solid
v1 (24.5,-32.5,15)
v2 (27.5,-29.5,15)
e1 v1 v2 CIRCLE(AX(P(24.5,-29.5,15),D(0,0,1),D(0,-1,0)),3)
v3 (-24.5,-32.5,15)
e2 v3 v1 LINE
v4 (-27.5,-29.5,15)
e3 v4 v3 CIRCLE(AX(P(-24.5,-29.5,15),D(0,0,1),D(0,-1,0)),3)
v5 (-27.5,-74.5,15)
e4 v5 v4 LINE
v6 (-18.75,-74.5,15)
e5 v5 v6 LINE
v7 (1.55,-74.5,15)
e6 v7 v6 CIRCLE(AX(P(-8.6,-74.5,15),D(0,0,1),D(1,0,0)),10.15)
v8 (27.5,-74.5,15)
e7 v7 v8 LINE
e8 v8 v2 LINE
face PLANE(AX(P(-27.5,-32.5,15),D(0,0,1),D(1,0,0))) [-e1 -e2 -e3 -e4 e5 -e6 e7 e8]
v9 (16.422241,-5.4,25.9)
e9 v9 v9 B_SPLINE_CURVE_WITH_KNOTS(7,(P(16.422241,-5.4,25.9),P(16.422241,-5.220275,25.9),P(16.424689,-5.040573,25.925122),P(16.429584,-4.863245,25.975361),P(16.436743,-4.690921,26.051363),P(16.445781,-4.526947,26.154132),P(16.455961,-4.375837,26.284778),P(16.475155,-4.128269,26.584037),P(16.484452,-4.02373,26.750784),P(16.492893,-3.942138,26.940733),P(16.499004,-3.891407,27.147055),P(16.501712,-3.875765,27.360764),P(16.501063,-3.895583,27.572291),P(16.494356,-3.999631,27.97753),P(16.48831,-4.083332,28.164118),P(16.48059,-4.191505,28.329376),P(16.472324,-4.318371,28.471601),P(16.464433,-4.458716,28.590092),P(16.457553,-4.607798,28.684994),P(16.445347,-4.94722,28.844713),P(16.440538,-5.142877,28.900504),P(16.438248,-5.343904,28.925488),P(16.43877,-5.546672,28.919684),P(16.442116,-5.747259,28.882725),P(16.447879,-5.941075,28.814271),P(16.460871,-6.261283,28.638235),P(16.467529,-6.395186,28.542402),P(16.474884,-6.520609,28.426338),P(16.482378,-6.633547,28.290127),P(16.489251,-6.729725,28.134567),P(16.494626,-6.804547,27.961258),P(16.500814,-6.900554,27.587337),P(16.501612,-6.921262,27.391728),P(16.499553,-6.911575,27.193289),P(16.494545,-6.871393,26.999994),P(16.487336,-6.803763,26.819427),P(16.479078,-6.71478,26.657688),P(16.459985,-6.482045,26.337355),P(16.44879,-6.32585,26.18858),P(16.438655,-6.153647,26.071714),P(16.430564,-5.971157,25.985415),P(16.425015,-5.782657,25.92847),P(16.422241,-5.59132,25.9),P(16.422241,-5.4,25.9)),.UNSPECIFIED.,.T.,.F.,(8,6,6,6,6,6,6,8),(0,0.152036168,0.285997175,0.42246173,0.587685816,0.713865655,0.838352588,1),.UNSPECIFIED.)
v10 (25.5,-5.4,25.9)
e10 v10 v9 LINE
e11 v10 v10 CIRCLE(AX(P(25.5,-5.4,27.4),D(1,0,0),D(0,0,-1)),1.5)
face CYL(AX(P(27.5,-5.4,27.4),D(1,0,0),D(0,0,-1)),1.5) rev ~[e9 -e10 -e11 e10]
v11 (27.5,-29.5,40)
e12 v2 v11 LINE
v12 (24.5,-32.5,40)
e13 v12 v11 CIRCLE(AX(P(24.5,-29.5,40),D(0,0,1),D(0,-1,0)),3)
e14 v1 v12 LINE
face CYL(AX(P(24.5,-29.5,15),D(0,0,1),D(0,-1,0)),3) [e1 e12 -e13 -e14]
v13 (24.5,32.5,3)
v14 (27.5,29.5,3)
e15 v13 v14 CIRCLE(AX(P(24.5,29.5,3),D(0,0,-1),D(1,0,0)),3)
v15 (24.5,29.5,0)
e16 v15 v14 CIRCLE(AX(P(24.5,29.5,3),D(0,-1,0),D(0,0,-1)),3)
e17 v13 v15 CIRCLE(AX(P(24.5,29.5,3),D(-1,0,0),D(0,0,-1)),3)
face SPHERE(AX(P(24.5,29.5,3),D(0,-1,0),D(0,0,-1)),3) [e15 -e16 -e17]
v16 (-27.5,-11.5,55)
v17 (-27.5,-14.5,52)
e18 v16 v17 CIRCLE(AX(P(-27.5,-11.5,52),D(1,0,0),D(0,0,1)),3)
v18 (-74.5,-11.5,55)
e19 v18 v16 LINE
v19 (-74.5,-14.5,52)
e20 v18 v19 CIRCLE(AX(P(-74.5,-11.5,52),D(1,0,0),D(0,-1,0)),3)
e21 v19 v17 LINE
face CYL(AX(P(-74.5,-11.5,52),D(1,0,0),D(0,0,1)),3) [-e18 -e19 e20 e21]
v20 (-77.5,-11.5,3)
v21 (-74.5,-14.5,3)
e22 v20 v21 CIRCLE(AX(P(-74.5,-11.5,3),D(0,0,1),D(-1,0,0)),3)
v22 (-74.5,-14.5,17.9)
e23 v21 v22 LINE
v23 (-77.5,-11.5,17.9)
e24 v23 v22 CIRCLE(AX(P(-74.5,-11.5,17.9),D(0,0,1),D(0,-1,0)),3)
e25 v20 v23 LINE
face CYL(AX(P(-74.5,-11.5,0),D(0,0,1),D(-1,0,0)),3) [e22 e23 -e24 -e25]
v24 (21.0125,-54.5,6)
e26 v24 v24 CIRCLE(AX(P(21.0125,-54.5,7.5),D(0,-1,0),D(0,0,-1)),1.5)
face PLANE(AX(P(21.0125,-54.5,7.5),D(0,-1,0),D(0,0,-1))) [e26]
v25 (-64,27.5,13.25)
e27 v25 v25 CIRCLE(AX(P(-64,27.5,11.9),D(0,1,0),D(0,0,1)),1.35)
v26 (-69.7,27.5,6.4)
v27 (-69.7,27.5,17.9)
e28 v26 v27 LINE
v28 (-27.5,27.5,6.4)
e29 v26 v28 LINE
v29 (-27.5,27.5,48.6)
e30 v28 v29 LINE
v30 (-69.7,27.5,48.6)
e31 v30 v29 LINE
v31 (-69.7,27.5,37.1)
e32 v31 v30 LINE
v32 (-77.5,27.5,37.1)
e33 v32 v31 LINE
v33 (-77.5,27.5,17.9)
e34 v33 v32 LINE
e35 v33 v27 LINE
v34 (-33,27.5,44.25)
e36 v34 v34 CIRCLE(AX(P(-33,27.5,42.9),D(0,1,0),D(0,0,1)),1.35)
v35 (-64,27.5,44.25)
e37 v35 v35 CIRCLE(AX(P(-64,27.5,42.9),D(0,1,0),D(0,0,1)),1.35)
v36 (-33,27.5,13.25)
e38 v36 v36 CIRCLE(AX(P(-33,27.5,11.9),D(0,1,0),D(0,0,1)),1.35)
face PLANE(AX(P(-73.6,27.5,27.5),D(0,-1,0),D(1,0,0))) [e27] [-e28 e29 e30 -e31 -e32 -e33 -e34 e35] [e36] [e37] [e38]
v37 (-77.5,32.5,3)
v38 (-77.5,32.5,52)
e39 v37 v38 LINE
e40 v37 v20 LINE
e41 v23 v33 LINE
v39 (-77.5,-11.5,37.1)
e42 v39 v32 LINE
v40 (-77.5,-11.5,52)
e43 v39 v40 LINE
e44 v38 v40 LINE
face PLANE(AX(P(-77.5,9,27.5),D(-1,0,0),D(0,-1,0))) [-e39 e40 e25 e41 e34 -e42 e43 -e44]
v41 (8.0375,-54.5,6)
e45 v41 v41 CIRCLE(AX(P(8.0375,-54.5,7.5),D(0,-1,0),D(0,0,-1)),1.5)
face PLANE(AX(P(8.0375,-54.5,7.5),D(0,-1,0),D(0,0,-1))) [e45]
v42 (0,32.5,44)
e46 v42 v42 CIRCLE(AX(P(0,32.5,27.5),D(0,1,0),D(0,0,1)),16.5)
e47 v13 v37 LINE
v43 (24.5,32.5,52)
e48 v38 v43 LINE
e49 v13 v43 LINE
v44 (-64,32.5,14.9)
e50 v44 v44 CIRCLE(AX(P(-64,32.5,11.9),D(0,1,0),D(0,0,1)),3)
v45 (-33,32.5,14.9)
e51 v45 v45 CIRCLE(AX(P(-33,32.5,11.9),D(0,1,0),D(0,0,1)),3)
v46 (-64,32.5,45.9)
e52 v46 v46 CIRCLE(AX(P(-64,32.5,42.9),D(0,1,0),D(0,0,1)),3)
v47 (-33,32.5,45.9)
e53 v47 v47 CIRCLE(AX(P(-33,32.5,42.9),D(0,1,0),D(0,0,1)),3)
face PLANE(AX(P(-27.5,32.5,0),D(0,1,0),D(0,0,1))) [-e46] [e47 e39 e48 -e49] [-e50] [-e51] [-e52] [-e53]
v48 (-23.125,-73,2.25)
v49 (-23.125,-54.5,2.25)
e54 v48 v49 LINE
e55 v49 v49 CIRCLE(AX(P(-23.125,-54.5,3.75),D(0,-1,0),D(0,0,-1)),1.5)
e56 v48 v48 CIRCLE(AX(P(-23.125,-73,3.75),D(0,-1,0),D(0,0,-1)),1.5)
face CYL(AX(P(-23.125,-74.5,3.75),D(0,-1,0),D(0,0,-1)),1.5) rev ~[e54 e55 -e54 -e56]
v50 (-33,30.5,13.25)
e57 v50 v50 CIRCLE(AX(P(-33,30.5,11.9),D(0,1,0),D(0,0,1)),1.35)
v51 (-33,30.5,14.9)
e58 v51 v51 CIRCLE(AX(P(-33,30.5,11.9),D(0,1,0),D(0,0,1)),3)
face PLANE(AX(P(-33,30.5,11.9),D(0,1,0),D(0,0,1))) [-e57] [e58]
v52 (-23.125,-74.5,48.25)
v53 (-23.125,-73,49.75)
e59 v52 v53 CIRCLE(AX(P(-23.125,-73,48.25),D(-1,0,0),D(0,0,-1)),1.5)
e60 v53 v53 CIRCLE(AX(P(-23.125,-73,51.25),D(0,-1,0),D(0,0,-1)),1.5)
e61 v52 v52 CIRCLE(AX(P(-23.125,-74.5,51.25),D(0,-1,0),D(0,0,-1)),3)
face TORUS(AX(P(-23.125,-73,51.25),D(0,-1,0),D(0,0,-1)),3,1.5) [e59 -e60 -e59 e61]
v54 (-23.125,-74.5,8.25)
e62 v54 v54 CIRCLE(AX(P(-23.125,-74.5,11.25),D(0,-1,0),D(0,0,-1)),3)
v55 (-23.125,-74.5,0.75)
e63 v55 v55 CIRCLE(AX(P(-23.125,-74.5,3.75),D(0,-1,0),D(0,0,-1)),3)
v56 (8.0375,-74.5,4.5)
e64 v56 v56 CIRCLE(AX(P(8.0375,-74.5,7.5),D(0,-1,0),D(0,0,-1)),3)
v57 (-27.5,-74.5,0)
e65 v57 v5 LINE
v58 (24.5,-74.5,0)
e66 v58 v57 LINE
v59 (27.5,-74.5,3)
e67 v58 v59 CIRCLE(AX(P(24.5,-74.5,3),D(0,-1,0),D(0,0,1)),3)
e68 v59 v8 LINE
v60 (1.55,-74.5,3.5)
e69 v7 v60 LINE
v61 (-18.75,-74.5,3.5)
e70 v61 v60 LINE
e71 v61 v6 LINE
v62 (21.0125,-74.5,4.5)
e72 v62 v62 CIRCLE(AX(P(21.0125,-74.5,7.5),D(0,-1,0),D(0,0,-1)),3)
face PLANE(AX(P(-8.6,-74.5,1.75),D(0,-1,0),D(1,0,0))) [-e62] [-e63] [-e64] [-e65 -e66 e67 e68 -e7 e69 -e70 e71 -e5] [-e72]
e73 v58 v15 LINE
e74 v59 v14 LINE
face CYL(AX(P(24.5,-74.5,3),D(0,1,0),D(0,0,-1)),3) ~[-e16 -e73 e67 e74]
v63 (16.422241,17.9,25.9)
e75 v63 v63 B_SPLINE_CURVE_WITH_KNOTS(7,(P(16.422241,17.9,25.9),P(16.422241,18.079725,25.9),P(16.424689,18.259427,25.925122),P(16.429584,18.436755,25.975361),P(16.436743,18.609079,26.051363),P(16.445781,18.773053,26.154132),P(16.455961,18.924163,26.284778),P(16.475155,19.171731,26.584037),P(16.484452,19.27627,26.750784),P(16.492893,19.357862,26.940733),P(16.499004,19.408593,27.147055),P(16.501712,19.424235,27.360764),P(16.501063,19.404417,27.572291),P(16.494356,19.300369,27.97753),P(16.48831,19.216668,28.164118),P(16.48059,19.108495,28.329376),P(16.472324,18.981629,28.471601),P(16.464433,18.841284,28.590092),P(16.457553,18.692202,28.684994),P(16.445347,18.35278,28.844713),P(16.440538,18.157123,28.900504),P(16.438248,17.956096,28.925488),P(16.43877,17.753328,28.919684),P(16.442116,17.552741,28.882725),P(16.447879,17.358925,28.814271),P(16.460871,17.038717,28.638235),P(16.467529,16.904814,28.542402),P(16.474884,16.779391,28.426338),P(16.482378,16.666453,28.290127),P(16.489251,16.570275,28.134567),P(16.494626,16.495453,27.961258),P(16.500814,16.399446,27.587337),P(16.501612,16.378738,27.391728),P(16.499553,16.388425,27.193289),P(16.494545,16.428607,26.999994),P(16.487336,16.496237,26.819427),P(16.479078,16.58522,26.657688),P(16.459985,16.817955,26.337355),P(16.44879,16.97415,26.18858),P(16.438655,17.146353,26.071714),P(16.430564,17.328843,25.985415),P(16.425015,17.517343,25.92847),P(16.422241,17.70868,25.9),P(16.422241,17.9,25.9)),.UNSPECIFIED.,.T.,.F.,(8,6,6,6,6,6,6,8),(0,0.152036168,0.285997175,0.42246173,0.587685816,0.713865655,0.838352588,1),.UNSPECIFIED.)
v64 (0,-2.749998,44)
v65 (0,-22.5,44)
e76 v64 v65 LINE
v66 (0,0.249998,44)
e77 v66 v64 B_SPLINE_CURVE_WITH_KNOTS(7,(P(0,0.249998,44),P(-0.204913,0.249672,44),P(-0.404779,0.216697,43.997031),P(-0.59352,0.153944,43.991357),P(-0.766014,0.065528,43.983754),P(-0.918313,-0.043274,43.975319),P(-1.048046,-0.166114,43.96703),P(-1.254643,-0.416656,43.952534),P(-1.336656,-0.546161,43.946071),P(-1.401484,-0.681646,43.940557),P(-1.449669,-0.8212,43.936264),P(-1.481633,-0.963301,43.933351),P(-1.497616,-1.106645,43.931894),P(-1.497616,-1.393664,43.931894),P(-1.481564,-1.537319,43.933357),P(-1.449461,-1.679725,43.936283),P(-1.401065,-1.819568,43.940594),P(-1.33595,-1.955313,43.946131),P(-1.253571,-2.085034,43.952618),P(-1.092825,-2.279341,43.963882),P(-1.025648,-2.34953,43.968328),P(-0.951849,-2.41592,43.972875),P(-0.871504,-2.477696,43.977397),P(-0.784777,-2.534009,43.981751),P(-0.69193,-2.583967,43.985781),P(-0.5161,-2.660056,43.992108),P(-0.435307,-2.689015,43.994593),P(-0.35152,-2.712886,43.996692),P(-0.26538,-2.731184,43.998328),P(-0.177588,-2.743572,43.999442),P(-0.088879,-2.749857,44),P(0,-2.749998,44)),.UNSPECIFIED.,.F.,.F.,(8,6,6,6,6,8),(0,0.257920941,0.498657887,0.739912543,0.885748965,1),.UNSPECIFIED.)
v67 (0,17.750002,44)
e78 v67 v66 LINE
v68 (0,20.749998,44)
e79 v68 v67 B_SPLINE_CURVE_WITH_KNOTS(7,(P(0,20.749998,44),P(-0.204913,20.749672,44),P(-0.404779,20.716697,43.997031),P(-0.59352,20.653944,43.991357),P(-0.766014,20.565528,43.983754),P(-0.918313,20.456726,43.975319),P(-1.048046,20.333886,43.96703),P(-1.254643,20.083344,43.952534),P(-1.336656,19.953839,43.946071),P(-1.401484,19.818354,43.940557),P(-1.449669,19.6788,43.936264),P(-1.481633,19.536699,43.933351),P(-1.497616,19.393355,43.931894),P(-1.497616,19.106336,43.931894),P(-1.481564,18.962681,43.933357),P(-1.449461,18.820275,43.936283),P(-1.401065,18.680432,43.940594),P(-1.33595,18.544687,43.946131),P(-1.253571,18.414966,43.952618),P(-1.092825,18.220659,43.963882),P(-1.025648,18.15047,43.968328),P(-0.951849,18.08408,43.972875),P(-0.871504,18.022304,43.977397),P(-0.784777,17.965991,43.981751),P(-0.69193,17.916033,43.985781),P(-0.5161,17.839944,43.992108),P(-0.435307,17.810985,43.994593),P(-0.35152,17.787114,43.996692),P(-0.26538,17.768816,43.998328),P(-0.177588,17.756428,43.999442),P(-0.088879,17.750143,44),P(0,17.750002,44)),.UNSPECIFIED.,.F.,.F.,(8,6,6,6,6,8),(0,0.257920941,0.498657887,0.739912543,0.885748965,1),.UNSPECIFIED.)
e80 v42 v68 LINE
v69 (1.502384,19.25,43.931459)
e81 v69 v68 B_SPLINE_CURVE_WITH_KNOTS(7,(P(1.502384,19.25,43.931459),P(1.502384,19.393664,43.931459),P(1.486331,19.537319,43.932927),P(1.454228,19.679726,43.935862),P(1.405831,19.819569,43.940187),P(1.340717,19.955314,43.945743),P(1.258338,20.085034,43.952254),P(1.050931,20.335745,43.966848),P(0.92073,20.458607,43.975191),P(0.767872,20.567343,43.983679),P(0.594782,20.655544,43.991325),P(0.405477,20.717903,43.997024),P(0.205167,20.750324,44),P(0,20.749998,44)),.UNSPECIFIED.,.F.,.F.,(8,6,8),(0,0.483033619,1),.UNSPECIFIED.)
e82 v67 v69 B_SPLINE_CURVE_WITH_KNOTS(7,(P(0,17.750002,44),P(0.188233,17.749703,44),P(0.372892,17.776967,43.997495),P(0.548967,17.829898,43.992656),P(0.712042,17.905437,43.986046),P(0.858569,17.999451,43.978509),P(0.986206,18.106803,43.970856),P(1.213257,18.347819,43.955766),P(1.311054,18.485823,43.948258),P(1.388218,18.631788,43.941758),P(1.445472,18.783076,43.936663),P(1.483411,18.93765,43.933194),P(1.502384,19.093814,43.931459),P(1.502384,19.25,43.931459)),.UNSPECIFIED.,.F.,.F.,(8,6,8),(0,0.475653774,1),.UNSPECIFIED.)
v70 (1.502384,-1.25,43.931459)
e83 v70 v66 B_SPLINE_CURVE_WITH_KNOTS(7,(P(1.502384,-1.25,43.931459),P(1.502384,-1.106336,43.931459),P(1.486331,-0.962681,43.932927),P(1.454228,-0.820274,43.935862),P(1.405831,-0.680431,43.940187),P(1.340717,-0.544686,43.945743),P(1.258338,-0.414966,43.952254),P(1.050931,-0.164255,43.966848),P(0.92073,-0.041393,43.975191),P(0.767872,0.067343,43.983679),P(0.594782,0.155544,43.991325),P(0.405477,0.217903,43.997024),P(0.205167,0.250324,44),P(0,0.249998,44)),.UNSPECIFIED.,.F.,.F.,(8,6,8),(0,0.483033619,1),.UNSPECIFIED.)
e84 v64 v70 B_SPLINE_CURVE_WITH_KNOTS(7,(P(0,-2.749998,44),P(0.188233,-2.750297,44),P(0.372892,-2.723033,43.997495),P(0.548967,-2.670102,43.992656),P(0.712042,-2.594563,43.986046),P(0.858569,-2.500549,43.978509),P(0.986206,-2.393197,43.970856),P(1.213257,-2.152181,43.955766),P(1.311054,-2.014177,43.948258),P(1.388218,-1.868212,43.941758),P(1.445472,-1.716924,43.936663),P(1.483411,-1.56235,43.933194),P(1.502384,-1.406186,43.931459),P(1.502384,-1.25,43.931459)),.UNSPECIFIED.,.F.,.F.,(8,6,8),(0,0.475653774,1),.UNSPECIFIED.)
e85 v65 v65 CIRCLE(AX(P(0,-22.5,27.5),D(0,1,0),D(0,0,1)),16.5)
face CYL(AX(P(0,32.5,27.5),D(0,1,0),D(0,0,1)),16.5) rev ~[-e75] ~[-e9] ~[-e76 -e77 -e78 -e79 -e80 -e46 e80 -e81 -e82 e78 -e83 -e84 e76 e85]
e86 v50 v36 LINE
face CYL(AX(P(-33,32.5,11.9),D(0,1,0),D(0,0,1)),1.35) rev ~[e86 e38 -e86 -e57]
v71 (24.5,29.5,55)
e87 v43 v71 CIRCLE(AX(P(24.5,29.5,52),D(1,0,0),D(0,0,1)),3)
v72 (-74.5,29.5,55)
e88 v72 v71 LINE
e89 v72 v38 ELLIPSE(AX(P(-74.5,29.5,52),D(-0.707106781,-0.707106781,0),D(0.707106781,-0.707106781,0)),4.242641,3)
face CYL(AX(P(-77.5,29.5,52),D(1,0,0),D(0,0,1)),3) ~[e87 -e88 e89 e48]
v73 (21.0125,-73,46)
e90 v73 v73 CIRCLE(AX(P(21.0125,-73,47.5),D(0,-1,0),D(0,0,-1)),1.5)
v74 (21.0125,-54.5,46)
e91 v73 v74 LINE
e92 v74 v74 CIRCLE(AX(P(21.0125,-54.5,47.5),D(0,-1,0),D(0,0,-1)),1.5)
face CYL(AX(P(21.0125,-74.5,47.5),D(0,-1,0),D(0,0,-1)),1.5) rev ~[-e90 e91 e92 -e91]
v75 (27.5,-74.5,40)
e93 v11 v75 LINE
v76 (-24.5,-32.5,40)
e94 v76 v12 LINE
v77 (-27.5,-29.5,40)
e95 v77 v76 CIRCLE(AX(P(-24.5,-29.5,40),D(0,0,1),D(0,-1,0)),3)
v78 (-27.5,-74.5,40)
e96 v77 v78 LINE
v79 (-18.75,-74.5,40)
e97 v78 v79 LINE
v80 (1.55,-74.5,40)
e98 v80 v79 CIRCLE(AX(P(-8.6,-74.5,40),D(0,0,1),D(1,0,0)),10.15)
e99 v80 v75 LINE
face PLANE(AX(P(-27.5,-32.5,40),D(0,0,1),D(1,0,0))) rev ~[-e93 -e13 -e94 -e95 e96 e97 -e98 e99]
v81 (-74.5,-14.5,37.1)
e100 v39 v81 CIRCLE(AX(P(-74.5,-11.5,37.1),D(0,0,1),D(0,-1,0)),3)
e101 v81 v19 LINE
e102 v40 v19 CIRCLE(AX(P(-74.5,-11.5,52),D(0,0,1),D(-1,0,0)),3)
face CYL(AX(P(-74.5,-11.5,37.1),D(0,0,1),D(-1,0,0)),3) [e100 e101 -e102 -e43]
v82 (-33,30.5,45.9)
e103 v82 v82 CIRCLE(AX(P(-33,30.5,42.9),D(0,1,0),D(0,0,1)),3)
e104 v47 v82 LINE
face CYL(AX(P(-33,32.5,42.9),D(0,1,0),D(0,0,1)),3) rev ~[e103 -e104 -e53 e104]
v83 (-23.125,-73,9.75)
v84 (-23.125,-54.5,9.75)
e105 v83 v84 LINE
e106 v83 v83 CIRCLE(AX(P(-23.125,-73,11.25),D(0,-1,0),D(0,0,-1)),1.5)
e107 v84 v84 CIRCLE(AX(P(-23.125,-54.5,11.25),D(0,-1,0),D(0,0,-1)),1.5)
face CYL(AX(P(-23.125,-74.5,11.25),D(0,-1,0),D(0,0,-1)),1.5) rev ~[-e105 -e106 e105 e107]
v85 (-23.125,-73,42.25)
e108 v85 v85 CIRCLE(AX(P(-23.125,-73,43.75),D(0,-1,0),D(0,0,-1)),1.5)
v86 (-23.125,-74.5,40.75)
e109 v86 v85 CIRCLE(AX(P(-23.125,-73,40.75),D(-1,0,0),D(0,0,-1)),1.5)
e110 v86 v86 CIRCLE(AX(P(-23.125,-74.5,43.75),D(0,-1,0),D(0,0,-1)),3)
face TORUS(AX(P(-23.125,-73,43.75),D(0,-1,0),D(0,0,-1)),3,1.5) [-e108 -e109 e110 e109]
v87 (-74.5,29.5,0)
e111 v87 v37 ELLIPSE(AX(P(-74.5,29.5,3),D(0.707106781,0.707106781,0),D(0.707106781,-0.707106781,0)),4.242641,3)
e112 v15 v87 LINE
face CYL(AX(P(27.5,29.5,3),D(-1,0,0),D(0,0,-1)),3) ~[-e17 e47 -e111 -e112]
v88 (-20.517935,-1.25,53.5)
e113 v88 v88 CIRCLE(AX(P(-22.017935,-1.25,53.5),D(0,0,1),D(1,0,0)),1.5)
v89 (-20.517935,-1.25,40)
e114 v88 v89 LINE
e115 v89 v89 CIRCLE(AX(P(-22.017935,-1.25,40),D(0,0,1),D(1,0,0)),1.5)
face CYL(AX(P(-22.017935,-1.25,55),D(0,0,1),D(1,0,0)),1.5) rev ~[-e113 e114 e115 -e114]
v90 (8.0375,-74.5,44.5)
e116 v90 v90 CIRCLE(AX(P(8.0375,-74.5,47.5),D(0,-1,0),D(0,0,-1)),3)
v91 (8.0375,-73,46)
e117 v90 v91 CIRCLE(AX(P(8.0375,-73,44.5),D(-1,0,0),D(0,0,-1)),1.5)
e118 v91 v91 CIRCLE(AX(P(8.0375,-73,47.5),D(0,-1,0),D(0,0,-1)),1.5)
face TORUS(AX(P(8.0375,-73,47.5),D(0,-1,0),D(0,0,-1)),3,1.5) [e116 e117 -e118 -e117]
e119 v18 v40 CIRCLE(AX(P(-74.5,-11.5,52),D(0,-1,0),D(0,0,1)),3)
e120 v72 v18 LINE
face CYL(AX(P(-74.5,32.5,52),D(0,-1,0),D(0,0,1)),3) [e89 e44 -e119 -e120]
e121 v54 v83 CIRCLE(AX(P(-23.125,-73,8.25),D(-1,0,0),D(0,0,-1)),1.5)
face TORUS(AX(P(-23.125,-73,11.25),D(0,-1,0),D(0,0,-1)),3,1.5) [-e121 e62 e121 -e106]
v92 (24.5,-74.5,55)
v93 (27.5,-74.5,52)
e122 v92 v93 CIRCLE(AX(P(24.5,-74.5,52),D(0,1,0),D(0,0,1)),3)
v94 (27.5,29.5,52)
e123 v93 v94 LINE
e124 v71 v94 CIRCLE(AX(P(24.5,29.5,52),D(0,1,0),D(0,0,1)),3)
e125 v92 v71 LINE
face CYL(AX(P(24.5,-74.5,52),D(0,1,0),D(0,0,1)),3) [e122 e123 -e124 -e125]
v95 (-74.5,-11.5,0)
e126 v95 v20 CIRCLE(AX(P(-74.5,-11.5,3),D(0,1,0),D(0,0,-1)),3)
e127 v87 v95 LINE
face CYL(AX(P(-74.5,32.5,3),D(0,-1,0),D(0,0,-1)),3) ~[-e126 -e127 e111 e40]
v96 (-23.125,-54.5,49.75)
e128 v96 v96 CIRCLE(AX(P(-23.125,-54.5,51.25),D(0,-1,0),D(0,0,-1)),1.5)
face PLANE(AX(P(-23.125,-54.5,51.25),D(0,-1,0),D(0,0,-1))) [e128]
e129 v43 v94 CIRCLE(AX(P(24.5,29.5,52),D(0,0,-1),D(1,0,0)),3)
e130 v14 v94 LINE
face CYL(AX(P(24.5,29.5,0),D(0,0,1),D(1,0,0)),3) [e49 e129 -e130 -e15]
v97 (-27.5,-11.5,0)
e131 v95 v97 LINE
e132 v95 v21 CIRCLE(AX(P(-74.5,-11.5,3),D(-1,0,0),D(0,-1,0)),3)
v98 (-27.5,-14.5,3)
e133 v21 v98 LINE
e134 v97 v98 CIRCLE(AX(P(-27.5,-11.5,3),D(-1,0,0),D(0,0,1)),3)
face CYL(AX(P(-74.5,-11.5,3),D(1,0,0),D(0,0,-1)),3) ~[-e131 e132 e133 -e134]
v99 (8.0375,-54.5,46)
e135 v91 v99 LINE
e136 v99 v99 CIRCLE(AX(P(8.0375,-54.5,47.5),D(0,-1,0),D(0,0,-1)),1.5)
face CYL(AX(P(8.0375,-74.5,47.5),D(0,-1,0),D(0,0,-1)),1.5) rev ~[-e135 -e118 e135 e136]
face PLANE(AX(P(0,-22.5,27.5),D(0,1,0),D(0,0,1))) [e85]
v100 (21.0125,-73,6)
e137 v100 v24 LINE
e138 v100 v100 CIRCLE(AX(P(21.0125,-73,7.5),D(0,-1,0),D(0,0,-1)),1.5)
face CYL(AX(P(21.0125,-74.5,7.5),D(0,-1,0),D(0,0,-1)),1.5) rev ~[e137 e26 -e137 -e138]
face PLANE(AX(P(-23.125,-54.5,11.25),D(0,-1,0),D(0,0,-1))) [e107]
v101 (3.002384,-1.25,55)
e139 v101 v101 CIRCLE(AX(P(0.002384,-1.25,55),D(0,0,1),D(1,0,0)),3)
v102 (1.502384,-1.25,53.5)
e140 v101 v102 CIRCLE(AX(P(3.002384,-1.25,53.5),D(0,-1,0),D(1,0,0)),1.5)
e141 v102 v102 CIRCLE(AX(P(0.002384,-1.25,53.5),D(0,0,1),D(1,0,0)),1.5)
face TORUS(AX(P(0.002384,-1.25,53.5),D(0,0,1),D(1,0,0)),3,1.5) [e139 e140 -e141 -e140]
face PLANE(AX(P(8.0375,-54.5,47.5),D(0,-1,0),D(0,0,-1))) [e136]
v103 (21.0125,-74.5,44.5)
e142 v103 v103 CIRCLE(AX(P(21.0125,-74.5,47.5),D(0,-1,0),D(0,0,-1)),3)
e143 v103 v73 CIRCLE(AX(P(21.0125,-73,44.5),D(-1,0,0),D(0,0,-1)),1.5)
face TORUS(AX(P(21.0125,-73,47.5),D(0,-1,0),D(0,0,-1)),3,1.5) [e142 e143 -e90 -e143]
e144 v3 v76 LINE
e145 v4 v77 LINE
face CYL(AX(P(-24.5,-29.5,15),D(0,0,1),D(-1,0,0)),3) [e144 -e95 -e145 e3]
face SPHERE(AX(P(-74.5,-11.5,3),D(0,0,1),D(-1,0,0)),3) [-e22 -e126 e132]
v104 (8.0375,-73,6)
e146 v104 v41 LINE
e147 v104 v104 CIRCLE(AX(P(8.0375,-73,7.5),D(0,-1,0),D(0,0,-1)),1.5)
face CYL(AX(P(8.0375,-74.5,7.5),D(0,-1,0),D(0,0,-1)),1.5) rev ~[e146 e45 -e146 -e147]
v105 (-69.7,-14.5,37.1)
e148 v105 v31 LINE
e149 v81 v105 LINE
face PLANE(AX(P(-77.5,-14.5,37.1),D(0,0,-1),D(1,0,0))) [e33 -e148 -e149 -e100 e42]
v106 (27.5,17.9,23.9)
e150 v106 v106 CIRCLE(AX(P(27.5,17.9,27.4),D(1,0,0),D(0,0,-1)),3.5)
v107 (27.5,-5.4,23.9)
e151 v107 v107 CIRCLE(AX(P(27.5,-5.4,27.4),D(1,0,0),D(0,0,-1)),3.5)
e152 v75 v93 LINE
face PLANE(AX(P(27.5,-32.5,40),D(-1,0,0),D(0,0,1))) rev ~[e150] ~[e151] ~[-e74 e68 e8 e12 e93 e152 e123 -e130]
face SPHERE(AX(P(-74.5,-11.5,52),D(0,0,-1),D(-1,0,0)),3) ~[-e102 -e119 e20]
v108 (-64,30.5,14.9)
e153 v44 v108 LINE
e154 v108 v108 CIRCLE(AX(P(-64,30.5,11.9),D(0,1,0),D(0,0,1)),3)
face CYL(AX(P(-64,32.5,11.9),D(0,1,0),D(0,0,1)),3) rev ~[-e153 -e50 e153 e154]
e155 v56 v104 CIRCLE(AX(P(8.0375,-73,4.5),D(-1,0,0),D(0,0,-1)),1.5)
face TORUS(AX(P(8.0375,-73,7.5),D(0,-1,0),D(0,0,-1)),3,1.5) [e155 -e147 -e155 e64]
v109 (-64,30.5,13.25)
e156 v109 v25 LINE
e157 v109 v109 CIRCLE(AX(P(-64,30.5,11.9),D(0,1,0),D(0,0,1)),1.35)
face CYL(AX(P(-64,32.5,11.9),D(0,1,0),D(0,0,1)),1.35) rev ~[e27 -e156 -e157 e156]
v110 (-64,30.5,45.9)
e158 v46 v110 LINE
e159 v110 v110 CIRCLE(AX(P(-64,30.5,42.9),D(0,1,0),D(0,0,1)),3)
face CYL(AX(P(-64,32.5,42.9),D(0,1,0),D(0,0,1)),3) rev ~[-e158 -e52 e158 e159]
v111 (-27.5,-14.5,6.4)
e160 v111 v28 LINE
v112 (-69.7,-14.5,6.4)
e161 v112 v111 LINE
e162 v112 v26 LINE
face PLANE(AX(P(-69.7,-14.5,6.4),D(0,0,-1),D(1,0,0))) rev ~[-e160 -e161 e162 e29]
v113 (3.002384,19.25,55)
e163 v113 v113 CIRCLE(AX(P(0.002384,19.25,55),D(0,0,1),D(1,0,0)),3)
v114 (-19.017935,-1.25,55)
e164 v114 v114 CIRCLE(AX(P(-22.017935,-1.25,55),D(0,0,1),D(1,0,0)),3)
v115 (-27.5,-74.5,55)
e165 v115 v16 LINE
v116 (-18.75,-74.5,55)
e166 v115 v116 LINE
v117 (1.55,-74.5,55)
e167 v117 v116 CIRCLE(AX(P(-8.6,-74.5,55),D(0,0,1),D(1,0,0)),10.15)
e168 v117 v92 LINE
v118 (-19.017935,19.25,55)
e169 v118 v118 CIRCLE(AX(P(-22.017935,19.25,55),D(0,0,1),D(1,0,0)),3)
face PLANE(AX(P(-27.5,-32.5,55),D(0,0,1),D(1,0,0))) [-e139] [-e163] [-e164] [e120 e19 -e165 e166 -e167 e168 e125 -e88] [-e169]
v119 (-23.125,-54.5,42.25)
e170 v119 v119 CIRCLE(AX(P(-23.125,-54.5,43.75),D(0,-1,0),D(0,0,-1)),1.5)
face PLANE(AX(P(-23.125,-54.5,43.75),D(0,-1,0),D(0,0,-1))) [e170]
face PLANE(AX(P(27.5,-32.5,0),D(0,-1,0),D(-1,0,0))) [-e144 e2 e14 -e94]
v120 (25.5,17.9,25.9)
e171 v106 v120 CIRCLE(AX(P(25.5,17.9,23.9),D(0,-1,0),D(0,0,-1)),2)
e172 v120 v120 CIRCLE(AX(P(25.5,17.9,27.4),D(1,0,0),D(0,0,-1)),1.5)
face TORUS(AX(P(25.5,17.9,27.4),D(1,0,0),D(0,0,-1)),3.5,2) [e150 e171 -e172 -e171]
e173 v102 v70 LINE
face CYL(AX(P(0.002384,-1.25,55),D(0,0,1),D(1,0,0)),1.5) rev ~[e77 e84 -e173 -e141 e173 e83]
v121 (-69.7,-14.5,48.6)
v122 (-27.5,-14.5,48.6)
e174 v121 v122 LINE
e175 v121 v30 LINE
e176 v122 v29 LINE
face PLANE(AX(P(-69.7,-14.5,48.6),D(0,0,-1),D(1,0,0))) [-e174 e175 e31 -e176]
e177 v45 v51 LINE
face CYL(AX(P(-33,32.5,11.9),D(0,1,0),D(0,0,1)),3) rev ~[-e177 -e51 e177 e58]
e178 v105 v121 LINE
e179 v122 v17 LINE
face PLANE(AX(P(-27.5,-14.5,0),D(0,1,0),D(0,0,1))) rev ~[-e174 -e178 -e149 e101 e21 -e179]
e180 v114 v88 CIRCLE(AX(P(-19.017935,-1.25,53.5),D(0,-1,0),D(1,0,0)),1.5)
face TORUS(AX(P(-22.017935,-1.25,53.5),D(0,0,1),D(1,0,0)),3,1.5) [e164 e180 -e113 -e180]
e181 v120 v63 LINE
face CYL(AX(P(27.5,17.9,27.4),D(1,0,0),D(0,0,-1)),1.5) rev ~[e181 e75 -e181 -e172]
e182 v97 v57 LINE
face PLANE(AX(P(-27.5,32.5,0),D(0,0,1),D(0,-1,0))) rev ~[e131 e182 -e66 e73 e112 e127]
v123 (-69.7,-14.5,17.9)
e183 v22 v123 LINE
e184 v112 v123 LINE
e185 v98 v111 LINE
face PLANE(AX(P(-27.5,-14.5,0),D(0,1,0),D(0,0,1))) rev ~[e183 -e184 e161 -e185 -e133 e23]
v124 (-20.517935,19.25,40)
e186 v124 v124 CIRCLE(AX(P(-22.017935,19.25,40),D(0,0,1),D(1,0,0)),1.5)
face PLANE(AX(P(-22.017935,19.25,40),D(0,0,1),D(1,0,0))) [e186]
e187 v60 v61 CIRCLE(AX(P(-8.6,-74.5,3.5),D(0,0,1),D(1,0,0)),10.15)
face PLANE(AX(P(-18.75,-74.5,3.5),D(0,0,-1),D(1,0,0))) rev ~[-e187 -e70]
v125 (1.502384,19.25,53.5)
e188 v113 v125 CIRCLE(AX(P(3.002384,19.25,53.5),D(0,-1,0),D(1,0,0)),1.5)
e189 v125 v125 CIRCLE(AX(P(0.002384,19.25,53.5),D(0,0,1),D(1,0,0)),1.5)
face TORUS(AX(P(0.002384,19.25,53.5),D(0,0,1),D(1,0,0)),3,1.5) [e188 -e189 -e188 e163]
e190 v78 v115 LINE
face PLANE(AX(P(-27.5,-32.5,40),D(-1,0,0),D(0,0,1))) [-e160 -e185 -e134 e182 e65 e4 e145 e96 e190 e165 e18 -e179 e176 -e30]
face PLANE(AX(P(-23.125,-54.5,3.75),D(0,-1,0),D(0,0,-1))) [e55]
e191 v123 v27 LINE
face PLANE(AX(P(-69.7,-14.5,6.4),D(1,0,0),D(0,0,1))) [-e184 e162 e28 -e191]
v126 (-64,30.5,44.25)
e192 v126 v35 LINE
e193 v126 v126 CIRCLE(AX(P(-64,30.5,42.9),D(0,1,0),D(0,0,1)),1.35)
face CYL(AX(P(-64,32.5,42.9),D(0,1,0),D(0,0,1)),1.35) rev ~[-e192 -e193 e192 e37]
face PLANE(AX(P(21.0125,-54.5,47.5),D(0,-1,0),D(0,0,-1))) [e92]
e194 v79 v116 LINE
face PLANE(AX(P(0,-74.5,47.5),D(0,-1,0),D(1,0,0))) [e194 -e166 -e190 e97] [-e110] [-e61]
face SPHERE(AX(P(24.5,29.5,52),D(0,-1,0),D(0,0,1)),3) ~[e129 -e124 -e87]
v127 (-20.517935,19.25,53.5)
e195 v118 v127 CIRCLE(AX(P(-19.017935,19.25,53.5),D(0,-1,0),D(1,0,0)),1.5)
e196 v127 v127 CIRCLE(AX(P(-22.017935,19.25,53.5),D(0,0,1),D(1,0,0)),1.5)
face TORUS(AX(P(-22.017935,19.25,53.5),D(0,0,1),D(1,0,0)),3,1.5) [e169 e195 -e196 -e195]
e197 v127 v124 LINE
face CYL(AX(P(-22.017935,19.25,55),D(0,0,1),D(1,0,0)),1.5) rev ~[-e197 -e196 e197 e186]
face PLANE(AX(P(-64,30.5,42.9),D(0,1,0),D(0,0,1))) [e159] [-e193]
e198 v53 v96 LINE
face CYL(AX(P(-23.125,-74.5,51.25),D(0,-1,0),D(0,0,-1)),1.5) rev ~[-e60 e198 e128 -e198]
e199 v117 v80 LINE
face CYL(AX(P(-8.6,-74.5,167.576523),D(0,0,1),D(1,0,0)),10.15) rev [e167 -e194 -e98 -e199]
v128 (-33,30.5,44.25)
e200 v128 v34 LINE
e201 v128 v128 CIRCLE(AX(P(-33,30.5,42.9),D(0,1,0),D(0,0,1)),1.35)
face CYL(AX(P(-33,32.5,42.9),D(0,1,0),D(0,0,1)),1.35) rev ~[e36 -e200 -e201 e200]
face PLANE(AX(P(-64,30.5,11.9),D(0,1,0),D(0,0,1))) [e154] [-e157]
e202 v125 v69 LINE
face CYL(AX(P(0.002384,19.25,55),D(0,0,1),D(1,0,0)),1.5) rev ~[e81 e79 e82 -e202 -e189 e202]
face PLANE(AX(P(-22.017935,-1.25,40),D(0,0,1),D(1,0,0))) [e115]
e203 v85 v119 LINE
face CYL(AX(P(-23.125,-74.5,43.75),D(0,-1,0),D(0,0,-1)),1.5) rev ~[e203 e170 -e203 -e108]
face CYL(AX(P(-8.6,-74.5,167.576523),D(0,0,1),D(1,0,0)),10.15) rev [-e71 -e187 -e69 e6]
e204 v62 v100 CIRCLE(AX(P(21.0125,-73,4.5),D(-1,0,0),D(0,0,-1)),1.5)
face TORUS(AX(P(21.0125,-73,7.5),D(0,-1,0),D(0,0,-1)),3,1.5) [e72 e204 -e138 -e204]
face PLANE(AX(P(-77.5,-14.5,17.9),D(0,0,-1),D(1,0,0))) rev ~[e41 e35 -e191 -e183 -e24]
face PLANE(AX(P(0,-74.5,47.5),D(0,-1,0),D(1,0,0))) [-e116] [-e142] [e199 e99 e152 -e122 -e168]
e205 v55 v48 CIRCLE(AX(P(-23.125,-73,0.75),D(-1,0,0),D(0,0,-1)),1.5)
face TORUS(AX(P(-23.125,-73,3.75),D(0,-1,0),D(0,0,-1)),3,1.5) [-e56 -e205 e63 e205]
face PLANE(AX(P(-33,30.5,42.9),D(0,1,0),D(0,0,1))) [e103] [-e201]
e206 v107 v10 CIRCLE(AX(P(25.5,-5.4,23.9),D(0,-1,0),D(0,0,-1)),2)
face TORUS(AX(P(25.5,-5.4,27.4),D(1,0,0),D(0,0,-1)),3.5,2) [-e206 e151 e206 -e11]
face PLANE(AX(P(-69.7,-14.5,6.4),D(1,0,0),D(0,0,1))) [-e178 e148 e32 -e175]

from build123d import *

# Parameters (mm, degrees)
SKETCH1_W               = 65
SKETCH1_H               = 55
BOSS_EXTRUDE1_DEPTH     = 55
SKETCH2_R               = 16.5
CUT_EXTRUDE1_DEPTH      = 55
SKETCH3_W               = 47
SKETCH3_H               = 55
BOSS_EXTRUDE2_DEPTH     = 50
SKETCH5_W               = 42.2
SKETCH5_H               = 42.2
CUT_EXTRUDE2_DEPTH      = 42
SKETCH6_W               = 7.8
SKETCH6_H               = 19.2
CUT_EXTRUDE3_DEPTH      = 42
FILLET2_R               = 3
SKETCH7_W               = 55
SKETCH7_H               = 15
BOSS_EXTRUDE3_DEPTH     = 42
CUT_EXTRUDE4_DEPTH      = 118.976523088
CUT_EXTRUDE4_DEPTH_BACK = 118.976523088
SKETCH9_R               = 10.15
SKETCH10_R              = 1.5
CUT_EXTRUDE5_DEPTH      = 20
FILLET4_R               = 1.5
FILLET5_R               = 3
SKETCH12_R              = 1.35
CUT_EXTRUDE6_DEPTH      = 10
SKETCH13_R              = 3
CUT_EXTRUDE7_DEPTH      = 2
SKETCH15_W              = 20.3
SKETCH15_H              = 3.5
BOSS_EXTRUDE4_DEPTH     = 12
SKETCH16_R              = 1.5
CUT_EXTRUDE8_DEPTH      = 15
FILLET6_R               = 2
SKETCH17_R              = 1.5
CUT_EXTRUDE10_DEPTH     = 15
FILLET7_R               = 1.5


with BuildPart() as part:
    # Sketch1 → Boss-Extrude1 (new body)
    with BuildSketch(Plane(origin=(0, 0, 0), x_dir=(0, 1, 0), z_dir=(0, 0, 1))):
        Rectangle(SKETCH1_W, SKETCH1_H)
    extrude(amount=BOSS_EXTRUDE1_DEPTH)

    # Sketch2 → Cut-Extrude1 (cut)
    with BuildSketch(Plane(origin=(0, 32.5, 0), x_dir=(-1, 0, 0), z_dir=(0, 1, 0))):
        with Locations(Location((0, 27.5, 0), (0, 0, 90))):
            Circle(SKETCH2_R)
    extrude(amount=-CUT_EXTRUDE1_DEPTH, mode=Mode.SUBTRACT)

    # Sketch3 → Boss-Extrude2 (add)
    with BuildSketch(Plane(origin=(-27.5, 0, 0), x_dir=(0, -1, 0), z_dir=(-1, 0, 0))):
        with Locations((-9, 27.5)):
            Rectangle(SKETCH3_W, SKETCH3_H)
    extrude(amount=BOSS_EXTRUDE2_DEPTH)

    # Sketch5 → Cut-Extrude2 (cut)
    with BuildSketch(Plane.XZ.offset(14.5)):
        with Locations((-48.6, 27.5)):
            Rectangle(SKETCH5_W, SKETCH5_H)
    extrude(amount=-CUT_EXTRUDE2_DEPTH, mode=Mode.SUBTRACT)

    # Sketch6 → Cut-Extrude3 (cut)
    with BuildSketch(Plane.XZ.offset(14.5)):
        with Locations((-73.6, 27.5)):
            Rectangle(SKETCH6_W, SKETCH6_H)
    extrude(amount=-CUT_EXTRUDE3_DEPTH, mode=Mode.SUBTRACT)

    # Fillet2
    fillet2_edges = [part.edges().sort_by_distance(p)[0] for p in [
        (-77.5, -14.5, 8.95),
        (-77.5, -14.5, 46.05),
    ]]
    fillet(fillet2_edges, radius=FILLET2_R)

    # Sketch7 → Boss-Extrude3 (add)
    with BuildSketch(Plane.XZ.offset(32.5)):
        with Locations((0, 47.5)):
            Rectangle(SKETCH7_W, SKETCH7_H)
        with Locations((0, 7.5)):
            Rectangle(SKETCH7_W, SKETCH7_H)
    extrude(amount=BOSS_EXTRUDE3_DEPTH)

    # Sketch9 → Cut-Extrude4 (cut, two sides: drawn at the far end of the back side and taken through both)
    with BuildSketch(Plane(origin=(0, 0, 48.6), x_dir=(1, 0, 0), z_dir=(0, 0, -1)).offset(-CUT_EXTRUDE4_DEPTH_BACK)):
        with Locations((-8.6, 74.5)):
            Circle(SKETCH9_R)
    extrude(amount=CUT_EXTRUDE4_DEPTH + CUT_EXTRUDE4_DEPTH_BACK, mode=Mode.SUBTRACT)

    # Sketch10 → Cut-Extrude5 (cut)
    with BuildSketch(Plane.XZ.offset(74.5)):
        with Locations(Location((-23.125, 51.25, 0), (0, 0, 270))):
            Circle(SKETCH10_R)
        with Locations(Location((-23.125, 43.75, 0), (0, 0, 270))):
            Circle(SKETCH10_R)
        with Locations(Location((8.0375, 47.5, 0), (0, 0, 270))):
            Circle(SKETCH10_R)
        with Locations(Location((21.0125, 47.5, 0), (0, 0, 270))):
            Circle(SKETCH10_R)
        with Locations(Location((-23.125, 11.25, 0), (0, 0, 270))):
            Circle(SKETCH10_R)
        with Locations(Location((-23.125, 3.75, 0), (0, 0, 270))):
            Circle(SKETCH10_R)
        with Locations(Location((8.0375, 7.5, 0), (0, 0, 270))):
            Circle(SKETCH10_R)
        with Locations(Location((21.0125, 7.5, 0), (0, 0, 270))):
            Circle(SKETCH10_R)
    extrude(amount=-CUT_EXTRUDE5_DEPTH, mode=Mode.SUBTRACT)

    # Fillet4
    fillet4_edges = [part.edges().sort_by_distance(p)[0] for p in [
        (-23.125, -74.5, 52.75),
        (-23.125, -74.5, 12.75),
        (21.0125, -74.5, 49),
        (8.0375, -74.5, 49),
        (-23.125, -74.5, 45.25),
        (-23.125, -74.5, 5.25),
        (8.0375, -74.5, 9),
        (21.0125, -74.5, 9),
    ]]
    fillet(fillet4_edges, radius=FILLET4_R)

    # Fillet5
    fillet5_edges = [part.edges().sort_by_distance(p)[0] for p in [
        (27.5, -21, 55),
        (-77.5, 10.5, 0),
        (-25, 32.5, 55),
        (27.5, -21, 0),
        (-25, 32.5, 0),
        (-77.5, 10.5, 55),
        (-51, -14.5, 55),
        (-76.621320344, -13.621320344, 55),
        (-51, -14.5, 0),
        (-76.621320344, -13.621320344, 0),
        (27.5, -32.5, 27.5),
        (-27.5, -32.5, 27.5),
        (27.5, 32.5, 27.5),
    ]]
    fillet(fillet5_edges, radius=FILLET5_R)

    # Sketch12 → Cut-Extrude6 (cut)
    with BuildSketch(Plane(origin=(0, 32.5, 0), x_dir=(1, 0, 0), z_dir=(0, 1, 0))):
        with Locations(Location((-33, -42.9, 0), (0, 0, 270))):
            Circle(SKETCH12_R)
        with Locations(Location((-33, -11.9, 0), (0, 0, 270))):
            Circle(SKETCH12_R)
        with Locations(Location((-64, -42.9, 0), (0, 0, 270))):
            Circle(SKETCH12_R)
        with Locations(Location((-64, -11.9, 0), (0, 0, 270))):
            Circle(SKETCH12_R)
    extrude(amount=-CUT_EXTRUDE6_DEPTH, mode=Mode.SUBTRACT)

    # Sketch13 → Cut-Extrude7 (cut)
    with BuildSketch(Plane(origin=(0, 32.5, 0), x_dir=(1, 0, 0), z_dir=(0, 1, 0))):
        with Locations(Location((-33, -42.9, 0), (0, 0, 270))):
            Circle(SKETCH13_R)
        with Locations(Location((-64, -42.9, 0), (0, 0, 270))):
            Circle(SKETCH13_R)
        with Locations(Location((-33, -11.9, 0), (0, 0, 270))):
            Circle(SKETCH13_R)
        with Locations(Location((-64, -11.9, 0), (0, 0, 270))):
            Circle(SKETCH13_R)
    extrude(amount=-CUT_EXTRUDE7_DEPTH, mode=Mode.SUBTRACT)

    # Sketch15 → Boss-Extrude4 (add)
    with BuildSketch(Plane.XZ.offset(74.5)):
        with Locations((-8.6, 1.75)):
            Rectangle(SKETCH15_W, SKETCH15_H)
    extrude(amount=-BOSS_EXTRUDE4_DEPTH)

    # Sketch16 → Cut-Extrude8 (cut)
    with BuildSketch(Plane.YZ.offset(27.5)):
        with Locations(Location((-5.4, 27.4, 0), (0, 0, 270))):
            Circle(SKETCH16_R)
        with Locations(Location((17.9, 27.4, 0), (0, 0, 270))):
            Circle(SKETCH16_R)
    extrude(amount=-CUT_EXTRUDE8_DEPTH, mode=Mode.SUBTRACT)

    # Fillet6
    fillet6_edges = [part.edges().sort_by_distance(p)[0] for p in [
        (27.5, -5.4, 28.9),
        (27.5, 17.9, 28.9),
    ]]
    fillet(fillet6_edges, radius=FILLET6_R)

    # Sketch17 → Cut-Extrude10 (cut)
    with BuildSketch(Plane.XY.offset(55)):
        with Locations((0.002383592, 19.25)):
            Circle(SKETCH17_R)
        with Locations((0.002383592, -1.25)):
            Circle(SKETCH17_R)
        with Locations((-22.017934674, 19.25)):
            Circle(SKETCH17_R)
        with Locations((-22.017934674, -1.25)):
            Circle(SKETCH17_R)
    extrude(amount=-CUT_EXTRUDE10_DEPTH, mode=Mode.SUBTRACT)

    # Fillet7
    fillet7_edges = [part.edges().sort_by_distance(p)[0] for p in [
        (-1.497616408, -1.25, 55),
        (-23.517934674, 19.25, 55),
        (-23.517934674, -1.25, 55),
        (-1.497616408, 19.25, 55),
    ]]
    fillet(fillet7_edges, radius=FILLET7_R)


solid = part.part
